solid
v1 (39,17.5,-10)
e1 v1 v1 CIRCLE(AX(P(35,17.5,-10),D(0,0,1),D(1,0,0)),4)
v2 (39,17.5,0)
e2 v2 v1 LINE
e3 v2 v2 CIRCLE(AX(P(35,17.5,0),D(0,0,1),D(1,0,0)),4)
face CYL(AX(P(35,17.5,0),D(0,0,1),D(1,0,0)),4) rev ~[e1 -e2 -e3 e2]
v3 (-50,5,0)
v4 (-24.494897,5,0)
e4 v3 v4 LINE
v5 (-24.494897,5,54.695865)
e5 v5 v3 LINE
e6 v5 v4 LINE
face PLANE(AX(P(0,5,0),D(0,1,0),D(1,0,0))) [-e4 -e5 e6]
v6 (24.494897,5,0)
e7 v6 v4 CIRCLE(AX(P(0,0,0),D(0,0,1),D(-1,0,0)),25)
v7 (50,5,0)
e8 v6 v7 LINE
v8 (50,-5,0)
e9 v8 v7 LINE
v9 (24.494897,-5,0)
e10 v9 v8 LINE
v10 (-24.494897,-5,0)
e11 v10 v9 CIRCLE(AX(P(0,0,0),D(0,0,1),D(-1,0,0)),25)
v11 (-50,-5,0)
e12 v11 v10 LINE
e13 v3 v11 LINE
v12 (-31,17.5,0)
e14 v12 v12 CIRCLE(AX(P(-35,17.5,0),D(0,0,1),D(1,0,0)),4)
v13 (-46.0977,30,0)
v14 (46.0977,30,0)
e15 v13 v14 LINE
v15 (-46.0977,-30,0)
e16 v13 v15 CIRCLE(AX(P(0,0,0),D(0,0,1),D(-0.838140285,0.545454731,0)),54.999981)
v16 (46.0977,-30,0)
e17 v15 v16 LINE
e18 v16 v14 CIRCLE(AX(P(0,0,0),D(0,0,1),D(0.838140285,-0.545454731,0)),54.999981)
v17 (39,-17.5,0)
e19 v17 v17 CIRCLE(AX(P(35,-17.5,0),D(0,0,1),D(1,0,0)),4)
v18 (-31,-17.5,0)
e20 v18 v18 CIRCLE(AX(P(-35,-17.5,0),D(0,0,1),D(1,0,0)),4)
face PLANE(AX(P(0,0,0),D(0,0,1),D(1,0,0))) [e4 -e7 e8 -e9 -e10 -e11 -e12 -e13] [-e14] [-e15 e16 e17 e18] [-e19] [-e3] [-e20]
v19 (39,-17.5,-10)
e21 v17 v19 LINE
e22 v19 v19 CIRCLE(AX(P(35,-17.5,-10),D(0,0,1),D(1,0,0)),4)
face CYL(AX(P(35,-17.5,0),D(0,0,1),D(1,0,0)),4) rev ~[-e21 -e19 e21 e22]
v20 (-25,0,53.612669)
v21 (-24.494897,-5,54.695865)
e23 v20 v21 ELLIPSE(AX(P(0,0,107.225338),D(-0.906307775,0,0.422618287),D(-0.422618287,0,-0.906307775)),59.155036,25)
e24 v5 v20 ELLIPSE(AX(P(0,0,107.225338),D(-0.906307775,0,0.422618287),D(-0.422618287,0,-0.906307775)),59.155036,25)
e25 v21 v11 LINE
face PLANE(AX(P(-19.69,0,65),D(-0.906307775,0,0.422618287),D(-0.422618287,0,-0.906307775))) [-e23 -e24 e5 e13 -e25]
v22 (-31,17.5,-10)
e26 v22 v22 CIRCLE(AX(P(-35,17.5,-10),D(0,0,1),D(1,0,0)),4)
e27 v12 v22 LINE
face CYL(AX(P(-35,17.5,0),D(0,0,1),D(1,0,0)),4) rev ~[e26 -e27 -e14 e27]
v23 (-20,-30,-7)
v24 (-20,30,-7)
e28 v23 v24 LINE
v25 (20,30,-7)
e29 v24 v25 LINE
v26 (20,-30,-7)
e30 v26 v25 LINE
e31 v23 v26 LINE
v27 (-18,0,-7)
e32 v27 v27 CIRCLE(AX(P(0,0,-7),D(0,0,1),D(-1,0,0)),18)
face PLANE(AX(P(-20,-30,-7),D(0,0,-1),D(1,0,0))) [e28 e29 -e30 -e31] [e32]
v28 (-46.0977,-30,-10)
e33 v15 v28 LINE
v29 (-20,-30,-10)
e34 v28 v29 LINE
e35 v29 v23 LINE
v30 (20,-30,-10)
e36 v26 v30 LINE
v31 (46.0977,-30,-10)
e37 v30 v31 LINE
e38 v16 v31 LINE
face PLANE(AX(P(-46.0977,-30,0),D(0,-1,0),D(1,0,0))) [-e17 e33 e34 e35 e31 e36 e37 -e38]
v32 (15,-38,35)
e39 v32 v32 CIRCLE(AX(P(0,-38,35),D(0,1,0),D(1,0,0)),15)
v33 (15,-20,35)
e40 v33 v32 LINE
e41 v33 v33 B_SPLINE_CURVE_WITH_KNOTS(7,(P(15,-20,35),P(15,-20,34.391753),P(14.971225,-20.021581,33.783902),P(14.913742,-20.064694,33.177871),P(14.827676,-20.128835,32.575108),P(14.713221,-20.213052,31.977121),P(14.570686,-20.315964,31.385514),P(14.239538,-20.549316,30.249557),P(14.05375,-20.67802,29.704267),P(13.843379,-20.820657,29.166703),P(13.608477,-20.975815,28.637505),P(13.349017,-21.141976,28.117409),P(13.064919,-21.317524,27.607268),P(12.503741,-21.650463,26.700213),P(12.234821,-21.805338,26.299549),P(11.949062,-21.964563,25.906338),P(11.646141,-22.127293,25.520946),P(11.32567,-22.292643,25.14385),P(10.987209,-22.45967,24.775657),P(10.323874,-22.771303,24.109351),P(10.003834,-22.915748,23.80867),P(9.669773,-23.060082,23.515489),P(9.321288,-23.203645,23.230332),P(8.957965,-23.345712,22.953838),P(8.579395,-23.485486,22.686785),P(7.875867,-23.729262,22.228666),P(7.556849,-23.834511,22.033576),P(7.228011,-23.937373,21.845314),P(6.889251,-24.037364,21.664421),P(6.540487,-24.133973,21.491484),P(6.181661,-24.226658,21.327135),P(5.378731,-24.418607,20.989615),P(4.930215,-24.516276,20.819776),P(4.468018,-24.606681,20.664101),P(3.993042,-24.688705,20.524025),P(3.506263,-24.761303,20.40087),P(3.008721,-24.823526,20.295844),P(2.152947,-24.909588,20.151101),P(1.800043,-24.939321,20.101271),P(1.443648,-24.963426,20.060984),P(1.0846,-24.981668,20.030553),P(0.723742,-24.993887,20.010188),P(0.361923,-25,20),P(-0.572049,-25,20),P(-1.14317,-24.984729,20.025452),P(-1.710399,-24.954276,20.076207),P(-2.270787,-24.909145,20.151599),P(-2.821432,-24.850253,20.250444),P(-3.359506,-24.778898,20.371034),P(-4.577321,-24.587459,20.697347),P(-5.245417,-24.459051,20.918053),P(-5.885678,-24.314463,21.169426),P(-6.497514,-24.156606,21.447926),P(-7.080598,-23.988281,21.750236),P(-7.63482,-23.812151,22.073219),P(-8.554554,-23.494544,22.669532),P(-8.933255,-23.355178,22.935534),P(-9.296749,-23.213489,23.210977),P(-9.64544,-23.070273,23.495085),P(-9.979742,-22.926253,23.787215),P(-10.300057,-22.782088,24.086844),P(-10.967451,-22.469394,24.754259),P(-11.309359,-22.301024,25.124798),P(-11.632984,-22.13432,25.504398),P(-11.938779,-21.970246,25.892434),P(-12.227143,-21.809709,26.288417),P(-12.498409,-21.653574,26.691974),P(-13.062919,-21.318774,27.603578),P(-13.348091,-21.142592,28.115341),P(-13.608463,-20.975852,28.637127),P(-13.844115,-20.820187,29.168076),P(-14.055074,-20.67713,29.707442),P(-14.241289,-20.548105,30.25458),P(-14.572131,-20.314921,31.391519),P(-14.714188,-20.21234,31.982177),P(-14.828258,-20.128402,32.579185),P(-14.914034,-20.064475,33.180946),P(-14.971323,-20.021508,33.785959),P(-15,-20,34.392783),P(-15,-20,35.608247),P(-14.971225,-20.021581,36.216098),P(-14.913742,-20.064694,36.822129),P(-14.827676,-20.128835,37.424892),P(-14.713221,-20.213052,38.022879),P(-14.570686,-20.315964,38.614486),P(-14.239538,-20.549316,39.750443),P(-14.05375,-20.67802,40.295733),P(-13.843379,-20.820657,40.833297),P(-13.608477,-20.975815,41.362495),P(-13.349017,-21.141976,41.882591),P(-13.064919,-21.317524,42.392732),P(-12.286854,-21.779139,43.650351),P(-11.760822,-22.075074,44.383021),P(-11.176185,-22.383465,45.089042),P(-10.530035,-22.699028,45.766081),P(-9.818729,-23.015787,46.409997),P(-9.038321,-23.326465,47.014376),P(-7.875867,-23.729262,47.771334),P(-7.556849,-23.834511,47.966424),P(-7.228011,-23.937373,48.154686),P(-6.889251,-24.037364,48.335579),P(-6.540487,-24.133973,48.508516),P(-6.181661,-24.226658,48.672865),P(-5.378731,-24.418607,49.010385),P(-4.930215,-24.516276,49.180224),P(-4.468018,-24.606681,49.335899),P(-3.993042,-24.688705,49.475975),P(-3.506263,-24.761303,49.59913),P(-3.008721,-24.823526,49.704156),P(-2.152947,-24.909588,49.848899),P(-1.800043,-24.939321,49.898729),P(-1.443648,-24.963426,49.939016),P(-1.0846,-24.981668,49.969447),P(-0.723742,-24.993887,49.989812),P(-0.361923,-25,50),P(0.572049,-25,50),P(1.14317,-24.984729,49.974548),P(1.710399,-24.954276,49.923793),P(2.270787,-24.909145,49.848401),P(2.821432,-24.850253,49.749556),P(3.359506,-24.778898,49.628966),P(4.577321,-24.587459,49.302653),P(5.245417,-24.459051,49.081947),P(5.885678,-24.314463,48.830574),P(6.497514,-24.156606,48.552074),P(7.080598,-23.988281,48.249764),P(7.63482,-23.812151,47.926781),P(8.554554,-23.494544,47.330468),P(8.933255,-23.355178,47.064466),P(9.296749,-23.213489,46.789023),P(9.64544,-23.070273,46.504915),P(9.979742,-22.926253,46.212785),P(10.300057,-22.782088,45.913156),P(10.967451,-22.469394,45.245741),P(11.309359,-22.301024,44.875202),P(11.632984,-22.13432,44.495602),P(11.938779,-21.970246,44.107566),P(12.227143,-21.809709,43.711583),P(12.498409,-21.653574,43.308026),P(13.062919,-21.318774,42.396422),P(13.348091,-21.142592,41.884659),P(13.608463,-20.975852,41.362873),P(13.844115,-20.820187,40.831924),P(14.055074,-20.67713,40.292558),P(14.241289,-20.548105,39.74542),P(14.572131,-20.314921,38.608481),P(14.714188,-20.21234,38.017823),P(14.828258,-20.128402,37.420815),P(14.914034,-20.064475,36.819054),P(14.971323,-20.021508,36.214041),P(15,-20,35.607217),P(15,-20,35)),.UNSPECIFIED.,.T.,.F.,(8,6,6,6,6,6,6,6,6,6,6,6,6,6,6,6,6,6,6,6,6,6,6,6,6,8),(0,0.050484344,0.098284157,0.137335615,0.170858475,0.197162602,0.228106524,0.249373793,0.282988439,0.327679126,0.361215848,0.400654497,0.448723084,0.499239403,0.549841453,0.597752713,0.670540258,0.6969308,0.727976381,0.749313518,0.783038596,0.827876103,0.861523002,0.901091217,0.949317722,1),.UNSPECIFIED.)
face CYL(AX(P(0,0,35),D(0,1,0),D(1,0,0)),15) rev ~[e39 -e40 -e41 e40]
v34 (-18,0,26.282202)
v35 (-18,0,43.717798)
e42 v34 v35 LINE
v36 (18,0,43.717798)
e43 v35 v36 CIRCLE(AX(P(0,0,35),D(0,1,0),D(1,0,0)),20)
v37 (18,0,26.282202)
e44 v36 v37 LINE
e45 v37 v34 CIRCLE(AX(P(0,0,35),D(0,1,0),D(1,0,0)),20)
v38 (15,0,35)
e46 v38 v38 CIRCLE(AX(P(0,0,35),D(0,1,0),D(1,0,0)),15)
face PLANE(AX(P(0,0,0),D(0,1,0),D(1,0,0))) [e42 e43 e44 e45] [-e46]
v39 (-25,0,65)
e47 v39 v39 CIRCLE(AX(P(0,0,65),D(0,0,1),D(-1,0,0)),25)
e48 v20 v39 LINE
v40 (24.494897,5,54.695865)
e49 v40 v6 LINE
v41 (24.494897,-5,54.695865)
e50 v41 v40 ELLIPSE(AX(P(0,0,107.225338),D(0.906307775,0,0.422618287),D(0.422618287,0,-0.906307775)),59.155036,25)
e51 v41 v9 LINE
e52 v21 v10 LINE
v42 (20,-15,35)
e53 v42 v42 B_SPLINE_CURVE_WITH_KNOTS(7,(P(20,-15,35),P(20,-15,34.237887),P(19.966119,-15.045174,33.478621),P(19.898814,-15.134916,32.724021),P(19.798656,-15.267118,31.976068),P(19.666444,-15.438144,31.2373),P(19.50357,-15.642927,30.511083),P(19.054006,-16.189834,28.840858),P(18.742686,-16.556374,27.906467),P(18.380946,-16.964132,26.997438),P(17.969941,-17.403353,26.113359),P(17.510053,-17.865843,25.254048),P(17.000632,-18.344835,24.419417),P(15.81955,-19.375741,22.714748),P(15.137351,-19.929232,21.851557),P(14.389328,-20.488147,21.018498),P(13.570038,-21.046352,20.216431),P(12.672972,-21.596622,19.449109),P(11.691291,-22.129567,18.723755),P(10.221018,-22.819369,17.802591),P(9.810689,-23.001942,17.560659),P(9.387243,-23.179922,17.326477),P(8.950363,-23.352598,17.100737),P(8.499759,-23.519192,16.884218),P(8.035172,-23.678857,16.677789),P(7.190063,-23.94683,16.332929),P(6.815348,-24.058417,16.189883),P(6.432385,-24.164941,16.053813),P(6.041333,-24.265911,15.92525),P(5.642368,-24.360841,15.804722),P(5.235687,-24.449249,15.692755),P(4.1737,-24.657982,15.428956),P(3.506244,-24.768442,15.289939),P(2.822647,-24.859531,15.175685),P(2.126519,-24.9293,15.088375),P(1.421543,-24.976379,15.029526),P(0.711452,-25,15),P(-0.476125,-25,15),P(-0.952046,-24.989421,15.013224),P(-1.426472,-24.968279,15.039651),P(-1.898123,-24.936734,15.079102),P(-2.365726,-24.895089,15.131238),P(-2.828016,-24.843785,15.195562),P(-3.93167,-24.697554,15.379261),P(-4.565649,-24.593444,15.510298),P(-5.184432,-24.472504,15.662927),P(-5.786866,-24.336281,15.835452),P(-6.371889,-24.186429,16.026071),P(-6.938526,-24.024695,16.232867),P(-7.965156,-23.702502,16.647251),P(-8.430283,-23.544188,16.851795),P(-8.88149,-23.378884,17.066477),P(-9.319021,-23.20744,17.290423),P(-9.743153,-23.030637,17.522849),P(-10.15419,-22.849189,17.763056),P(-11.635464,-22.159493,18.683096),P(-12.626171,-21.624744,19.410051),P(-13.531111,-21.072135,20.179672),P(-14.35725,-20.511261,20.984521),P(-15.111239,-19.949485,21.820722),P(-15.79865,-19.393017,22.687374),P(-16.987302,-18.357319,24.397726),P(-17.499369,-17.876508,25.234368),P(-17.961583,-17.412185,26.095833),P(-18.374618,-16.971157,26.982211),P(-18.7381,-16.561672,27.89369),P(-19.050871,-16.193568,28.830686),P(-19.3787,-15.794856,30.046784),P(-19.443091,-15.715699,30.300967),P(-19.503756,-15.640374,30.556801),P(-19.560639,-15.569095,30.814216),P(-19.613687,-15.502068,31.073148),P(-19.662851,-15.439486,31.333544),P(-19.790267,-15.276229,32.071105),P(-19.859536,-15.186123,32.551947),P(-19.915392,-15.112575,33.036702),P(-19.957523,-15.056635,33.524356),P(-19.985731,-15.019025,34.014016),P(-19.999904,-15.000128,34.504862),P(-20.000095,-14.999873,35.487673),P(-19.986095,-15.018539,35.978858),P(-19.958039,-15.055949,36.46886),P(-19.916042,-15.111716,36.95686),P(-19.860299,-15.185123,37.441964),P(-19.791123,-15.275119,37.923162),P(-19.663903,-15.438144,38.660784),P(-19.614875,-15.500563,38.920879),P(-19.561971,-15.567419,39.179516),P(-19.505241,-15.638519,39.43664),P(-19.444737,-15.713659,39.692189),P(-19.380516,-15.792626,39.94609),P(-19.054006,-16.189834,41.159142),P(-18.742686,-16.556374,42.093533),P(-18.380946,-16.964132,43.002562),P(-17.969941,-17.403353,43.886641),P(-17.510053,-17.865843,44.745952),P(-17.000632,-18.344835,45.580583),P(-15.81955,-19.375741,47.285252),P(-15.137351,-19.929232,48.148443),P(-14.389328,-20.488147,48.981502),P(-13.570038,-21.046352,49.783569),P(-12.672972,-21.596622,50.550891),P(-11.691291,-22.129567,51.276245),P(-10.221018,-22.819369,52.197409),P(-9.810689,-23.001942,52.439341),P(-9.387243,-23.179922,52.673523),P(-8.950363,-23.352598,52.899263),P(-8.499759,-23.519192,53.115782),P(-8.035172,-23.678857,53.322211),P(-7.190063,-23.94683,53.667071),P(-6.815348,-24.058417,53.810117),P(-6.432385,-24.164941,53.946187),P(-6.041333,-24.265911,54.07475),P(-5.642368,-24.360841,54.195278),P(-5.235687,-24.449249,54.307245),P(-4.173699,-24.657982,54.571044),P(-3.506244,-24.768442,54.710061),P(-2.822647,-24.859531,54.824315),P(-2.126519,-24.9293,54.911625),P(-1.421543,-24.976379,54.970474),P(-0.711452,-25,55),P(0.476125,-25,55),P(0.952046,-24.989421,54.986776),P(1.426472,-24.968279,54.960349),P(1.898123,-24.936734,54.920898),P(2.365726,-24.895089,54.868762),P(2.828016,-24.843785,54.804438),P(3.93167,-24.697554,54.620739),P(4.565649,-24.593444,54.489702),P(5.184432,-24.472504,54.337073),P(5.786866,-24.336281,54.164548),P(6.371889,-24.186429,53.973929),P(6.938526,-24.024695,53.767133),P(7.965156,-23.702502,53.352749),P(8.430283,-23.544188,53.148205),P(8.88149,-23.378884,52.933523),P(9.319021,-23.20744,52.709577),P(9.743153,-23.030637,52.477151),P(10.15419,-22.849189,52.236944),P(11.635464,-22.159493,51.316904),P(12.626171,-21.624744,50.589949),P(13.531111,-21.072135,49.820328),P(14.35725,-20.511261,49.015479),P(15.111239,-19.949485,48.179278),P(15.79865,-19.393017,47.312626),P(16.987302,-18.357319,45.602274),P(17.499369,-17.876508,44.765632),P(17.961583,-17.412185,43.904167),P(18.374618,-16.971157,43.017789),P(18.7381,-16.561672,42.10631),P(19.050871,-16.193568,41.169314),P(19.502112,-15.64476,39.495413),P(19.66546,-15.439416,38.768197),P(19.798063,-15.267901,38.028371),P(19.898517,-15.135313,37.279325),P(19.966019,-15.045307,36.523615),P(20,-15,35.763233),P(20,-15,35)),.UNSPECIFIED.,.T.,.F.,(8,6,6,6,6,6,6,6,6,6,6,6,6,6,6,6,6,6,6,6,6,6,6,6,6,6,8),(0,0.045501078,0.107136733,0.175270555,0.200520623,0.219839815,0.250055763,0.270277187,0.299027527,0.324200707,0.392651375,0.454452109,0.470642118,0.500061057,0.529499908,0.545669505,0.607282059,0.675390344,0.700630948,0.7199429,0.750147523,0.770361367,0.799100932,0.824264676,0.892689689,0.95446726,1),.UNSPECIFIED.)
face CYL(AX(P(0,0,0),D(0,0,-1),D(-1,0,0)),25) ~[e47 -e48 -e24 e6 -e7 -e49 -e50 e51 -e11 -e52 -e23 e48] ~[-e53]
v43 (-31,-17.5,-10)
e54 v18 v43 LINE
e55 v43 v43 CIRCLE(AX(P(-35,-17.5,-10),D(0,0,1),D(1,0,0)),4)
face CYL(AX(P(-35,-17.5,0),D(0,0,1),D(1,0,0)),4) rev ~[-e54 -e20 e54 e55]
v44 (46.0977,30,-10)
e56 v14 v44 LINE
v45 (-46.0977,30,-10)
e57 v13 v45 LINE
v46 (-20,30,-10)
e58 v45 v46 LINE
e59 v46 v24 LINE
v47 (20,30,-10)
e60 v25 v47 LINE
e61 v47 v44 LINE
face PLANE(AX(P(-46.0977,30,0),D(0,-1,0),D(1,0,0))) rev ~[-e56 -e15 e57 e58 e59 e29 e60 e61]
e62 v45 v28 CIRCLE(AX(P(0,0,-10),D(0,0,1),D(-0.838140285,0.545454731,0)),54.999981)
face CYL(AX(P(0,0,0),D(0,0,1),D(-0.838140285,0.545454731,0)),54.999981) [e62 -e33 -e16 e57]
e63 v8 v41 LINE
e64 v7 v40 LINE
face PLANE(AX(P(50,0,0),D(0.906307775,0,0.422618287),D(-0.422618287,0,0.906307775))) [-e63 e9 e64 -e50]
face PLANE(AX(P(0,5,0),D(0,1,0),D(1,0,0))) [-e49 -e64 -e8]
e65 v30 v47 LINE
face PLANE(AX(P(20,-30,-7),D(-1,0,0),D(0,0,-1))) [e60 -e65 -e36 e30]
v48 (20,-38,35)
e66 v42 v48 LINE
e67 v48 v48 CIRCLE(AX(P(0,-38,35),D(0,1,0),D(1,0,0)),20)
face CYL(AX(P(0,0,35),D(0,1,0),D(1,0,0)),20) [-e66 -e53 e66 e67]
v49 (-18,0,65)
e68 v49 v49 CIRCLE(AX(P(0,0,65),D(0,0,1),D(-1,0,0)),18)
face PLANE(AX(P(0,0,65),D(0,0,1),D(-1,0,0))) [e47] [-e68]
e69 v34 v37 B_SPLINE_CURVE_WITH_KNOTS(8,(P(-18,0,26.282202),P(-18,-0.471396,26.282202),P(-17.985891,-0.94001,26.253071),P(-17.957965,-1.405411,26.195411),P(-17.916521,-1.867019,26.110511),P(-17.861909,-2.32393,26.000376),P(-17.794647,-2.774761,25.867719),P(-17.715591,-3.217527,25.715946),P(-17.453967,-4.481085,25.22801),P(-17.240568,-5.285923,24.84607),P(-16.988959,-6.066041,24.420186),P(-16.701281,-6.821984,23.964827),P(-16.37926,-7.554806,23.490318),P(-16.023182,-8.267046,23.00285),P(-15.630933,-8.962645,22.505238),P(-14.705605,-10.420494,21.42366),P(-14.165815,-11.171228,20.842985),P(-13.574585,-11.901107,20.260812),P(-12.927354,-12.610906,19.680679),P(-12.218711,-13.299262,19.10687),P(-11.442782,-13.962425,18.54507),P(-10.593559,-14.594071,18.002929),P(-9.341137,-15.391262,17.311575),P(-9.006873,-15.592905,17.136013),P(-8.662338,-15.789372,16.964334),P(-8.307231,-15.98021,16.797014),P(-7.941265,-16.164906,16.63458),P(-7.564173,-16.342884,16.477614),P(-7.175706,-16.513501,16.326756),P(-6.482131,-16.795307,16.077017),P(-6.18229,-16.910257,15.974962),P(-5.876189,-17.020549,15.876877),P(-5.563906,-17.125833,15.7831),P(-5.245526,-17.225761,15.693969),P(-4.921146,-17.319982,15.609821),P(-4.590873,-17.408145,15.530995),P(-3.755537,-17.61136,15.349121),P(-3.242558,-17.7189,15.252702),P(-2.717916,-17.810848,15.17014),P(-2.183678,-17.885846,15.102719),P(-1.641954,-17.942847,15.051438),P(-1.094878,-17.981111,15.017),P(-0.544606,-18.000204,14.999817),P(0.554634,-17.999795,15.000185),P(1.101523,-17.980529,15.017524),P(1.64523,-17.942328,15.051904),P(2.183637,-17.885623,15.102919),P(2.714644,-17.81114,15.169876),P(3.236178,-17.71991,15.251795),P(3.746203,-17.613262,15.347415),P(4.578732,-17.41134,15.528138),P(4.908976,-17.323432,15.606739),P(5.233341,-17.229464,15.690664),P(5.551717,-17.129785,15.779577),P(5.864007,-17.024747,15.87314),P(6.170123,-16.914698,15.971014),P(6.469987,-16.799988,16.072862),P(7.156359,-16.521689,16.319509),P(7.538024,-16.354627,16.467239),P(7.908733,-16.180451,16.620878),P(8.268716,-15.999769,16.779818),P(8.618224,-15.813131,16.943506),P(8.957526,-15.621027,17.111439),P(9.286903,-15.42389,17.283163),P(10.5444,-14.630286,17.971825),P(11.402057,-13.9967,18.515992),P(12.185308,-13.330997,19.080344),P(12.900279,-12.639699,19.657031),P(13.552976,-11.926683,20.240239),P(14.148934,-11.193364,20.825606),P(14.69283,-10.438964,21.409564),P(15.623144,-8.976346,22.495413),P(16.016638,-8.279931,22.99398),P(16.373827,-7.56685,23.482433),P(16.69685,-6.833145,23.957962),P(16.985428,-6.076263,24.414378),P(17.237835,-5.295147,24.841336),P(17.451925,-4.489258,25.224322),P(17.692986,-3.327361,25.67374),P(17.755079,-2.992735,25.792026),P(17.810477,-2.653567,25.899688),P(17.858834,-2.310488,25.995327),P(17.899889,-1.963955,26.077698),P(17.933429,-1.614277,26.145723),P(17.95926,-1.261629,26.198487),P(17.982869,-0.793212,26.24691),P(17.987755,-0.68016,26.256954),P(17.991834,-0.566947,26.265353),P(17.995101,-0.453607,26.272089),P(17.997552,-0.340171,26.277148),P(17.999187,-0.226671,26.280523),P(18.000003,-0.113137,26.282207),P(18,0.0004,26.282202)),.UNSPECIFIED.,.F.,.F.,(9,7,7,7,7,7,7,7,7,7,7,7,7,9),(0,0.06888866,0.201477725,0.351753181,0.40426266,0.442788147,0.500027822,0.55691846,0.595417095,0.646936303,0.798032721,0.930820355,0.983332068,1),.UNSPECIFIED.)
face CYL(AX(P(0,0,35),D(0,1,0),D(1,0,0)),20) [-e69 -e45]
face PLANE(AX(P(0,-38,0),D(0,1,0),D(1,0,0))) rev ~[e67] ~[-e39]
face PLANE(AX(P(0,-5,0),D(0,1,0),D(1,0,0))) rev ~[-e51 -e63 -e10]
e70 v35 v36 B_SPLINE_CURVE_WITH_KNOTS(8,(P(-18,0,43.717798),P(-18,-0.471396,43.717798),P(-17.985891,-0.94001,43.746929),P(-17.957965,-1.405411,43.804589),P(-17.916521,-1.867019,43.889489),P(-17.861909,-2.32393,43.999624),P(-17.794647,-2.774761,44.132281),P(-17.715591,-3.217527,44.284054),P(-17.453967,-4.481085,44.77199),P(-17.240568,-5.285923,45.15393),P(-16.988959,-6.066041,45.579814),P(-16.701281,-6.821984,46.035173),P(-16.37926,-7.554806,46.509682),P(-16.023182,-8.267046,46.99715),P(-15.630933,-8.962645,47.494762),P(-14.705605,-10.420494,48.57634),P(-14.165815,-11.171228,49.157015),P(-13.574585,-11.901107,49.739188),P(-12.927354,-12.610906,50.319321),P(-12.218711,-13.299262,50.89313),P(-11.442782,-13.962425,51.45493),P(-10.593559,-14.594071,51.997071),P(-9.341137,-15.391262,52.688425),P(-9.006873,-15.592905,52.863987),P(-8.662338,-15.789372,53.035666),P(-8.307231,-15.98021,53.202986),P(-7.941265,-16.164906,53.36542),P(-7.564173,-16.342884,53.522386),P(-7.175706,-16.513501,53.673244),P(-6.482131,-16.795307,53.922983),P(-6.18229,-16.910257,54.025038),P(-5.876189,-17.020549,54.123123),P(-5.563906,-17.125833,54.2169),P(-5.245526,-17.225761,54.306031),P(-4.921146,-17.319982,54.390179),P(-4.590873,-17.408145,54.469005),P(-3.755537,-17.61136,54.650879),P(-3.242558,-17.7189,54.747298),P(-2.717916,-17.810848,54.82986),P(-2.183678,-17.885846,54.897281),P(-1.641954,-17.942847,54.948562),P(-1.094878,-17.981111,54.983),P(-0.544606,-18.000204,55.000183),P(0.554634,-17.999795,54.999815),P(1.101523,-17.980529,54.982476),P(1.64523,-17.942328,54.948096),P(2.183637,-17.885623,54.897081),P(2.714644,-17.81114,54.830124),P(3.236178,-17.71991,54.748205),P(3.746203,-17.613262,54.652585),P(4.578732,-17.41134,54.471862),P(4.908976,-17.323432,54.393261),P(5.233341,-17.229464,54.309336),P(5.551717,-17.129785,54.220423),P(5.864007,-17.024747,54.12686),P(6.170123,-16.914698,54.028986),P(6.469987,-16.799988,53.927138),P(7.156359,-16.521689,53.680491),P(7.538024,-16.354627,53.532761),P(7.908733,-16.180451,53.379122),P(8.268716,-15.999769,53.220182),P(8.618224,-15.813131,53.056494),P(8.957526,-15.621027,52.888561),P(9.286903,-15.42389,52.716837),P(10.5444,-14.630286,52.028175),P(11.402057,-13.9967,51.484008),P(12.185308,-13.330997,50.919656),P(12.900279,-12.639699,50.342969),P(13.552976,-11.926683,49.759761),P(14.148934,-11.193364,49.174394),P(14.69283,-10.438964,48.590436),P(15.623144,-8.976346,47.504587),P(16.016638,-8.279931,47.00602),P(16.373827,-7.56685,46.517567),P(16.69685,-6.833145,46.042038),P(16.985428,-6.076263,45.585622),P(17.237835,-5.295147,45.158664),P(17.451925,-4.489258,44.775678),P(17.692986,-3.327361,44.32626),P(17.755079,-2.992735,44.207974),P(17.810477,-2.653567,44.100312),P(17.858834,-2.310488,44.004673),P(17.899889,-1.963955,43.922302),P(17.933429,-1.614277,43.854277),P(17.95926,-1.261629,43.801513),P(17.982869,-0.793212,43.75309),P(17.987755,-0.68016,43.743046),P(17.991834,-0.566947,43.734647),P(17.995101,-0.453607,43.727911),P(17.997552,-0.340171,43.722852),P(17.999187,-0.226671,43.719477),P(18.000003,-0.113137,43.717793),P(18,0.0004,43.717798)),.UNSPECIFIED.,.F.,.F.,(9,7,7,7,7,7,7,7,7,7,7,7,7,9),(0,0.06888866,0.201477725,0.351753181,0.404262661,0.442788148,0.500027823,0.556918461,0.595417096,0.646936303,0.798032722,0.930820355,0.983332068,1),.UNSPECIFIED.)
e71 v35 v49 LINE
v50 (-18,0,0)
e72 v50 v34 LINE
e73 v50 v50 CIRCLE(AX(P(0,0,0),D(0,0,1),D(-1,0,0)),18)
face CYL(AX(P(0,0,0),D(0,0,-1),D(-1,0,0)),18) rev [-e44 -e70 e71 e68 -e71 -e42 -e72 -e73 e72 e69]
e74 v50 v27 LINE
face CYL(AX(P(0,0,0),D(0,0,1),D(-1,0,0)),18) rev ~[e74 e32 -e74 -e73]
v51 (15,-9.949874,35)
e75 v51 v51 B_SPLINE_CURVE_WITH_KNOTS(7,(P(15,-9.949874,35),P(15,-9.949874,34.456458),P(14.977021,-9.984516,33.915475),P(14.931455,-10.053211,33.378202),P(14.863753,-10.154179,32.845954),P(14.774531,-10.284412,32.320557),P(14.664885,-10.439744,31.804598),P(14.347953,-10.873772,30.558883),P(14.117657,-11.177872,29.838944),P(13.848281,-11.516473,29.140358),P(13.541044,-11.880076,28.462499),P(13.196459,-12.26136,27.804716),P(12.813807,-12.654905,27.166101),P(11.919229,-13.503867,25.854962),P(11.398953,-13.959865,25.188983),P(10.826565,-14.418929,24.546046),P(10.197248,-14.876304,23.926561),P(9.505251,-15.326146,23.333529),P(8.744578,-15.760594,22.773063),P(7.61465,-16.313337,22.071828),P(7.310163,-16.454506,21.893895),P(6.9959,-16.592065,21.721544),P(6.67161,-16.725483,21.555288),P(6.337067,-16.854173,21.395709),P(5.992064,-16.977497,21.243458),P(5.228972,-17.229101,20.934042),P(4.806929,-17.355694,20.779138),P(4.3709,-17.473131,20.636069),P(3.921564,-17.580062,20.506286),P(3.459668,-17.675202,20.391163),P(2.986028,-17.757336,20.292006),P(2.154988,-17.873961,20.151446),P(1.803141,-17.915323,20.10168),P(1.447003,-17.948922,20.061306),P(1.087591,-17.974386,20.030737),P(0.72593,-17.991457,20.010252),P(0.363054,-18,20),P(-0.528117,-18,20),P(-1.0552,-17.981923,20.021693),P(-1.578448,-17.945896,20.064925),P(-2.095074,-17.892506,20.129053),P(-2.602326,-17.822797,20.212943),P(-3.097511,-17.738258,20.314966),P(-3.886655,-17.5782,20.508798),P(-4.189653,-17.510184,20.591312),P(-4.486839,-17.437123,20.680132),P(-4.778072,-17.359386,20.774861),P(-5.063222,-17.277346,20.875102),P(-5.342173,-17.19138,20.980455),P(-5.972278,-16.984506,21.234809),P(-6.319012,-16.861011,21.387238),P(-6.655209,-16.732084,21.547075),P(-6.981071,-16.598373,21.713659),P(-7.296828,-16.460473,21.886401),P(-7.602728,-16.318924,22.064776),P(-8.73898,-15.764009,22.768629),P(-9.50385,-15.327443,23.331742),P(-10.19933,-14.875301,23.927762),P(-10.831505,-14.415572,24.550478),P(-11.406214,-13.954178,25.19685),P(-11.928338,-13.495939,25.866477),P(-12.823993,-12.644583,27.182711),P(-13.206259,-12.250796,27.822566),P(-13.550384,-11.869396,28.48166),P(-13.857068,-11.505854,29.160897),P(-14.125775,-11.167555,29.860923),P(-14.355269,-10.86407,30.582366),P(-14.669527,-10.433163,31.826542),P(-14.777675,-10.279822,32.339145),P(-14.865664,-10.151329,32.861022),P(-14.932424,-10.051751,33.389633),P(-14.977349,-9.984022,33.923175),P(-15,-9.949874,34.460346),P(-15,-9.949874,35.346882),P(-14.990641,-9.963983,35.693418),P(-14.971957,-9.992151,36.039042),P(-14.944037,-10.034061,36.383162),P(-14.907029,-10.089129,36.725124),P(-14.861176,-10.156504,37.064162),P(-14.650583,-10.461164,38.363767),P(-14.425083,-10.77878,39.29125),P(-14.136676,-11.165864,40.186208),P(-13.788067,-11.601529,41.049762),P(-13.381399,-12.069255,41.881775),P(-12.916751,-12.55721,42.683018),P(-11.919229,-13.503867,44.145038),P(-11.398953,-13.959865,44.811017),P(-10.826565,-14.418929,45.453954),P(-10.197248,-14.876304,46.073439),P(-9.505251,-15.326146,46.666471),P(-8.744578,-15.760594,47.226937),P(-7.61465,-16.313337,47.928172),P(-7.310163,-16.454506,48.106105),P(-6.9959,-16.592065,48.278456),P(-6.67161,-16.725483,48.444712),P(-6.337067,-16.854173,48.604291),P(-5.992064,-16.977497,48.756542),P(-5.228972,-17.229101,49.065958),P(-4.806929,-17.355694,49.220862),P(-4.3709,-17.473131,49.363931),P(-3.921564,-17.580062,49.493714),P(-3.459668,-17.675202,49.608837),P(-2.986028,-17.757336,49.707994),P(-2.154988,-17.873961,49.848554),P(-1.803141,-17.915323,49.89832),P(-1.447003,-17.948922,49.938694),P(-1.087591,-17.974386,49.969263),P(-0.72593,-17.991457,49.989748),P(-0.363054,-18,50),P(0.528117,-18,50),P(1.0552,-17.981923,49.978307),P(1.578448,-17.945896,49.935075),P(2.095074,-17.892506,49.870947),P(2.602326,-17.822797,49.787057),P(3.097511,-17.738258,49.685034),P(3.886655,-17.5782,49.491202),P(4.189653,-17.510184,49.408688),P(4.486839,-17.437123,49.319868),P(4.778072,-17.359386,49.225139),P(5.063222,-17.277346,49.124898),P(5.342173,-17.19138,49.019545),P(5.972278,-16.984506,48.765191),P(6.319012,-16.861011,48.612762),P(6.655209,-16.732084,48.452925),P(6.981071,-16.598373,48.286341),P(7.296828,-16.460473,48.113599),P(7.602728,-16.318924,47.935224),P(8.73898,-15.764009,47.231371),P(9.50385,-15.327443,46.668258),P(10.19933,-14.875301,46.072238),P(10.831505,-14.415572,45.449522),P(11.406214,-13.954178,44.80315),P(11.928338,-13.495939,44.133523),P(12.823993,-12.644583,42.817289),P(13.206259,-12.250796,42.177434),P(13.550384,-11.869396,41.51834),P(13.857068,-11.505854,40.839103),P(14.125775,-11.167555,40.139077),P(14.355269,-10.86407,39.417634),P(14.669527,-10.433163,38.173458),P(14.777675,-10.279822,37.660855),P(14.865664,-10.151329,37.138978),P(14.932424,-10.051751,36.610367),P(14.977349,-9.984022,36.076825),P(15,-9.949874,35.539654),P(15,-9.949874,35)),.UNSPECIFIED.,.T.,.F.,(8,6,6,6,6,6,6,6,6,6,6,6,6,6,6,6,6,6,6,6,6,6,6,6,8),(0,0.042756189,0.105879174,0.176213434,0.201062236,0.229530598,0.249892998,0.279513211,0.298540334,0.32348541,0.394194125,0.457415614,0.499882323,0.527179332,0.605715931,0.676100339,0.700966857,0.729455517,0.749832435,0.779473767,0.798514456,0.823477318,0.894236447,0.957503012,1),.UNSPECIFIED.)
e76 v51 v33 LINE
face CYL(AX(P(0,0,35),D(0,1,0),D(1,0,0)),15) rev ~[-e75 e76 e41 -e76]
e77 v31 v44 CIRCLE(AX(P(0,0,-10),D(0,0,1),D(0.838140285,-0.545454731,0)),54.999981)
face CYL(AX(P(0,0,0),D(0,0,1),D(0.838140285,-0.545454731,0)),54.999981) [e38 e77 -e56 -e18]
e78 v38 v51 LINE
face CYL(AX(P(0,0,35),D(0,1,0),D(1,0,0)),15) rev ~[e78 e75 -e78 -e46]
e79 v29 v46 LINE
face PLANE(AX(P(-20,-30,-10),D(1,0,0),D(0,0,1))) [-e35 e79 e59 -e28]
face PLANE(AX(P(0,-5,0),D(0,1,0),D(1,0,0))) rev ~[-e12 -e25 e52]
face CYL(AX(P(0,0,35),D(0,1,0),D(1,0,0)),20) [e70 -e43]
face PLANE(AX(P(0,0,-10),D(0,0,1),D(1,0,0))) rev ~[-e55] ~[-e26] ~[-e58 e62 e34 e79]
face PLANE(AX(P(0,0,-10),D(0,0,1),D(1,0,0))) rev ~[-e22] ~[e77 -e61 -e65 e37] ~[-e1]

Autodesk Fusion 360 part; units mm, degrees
sketch "草图1" plane through (0, 0, 0) normal (0, 0, 1) x (1, 0, 0)
  line L0 (-46.0977, 30) -> (46.0977, 30)
  line L1 (-46.0977, -30) -> (46.0977, -30)
  line L2 (-130, 0) -> (170, 0) construction
  line L3 (0, 120) -> (0, -120) construction
  circle A0 centre (-35, 17.5) radius 4
  circle A1 centre (35, 17.5) radius 4
  circle A2 centre (35, -17.5) radius 4
  circle A3 centre (-35, -17.5) radius 4
  arc A4 (46.0977, -30) -> (46.0977, 30) centre (0, 0) ccw
  arc A5 (-46.0977, 30) -> (-46.0977, -30) centre (0, 0) ccw
  dimension "d1" = 110
  dimension "d2" = 60
  dimension "d3" = 8
  dimension "d4" = 35
  dimension "d5" = 70
extrude "拉伸1" add sketch "草图1" against normal blind 10 makes body 1
sketch "草图2" plane through (0, -30, 0) normal (0, -1, 0) x (1, 0, 0)
  line L0 (46.0977, 0) -> (-46.0977, 0)
  line L1 (-46.0977, 0) -> (-46.0977, -10)
  line L2 (-46.0977, -10) -> (46.0977, -10)
  line L3 (46.0977, -10) -> (46.0977, 0)
  line L4 (-46.0977, 0) -> (46.0977, 0)
  line L5 (46.0977, 0) -> (46.0977, -10)
  line L6 (46.0977, -10) -> (-46.0977, -10)
  line L7 (-46.0977, -10) -> (-46.0977, 0)
  line L8 (-20, -7) -> (20, -7)
  line L9 (20, -7) -> (20, -10)
  line L10 (20, -10) -> (-20, -10)
  line L11 (-20, -10) -> (-20, -7)
  line L12 (0, 5) -> (0, -26.915) construction
  dimension "d8" = 40
  dimension "d9" = 3
extrude "拉伸2" cut sketch "草图2" against normal blind 80 contours L2 L6 L8 L9 L10 L11 bodies 1
sketch "草图3" plane through (0, 0, 0) normal (0, 0, 1) x (-1, 0, 0)
  circle A0 centre (35, 17.5) radius 4
  circle A1 centre (-35, -17.5) radius 4
  circle A2 centre (35, -17.5) radius 4
  circle A3 centre (-35, 17.5) radius 4
  arc A4 (46.0977, -30) -> (46.0977, 30) centre (0, 0) ccw
  line L0 (46.0977, 30) -> (-46.0977, 30)
  arc A5 (-46.0977, 30) -> (-46.0977, -30) centre (0, 0) ccw
  line L1 (-46.0977, -30) -> (46.0977, -30)
  circle A6 centre (0, 0) radius 25
  circle A7 centre (0, 0) radius 18
  dimension "d12" = 50
  dimension "d13" = 36
extrude "拉伸3" cut sketch "草图3" against normal blind 45 contours A7 bodies 1
extrude "拉伸4" add sketch "草图3" along normal blind 65 contours A6 bodies 1
sketch "草图4" plane through (0, 0, 0) normal (0, 1, 0) x (1, 0, 0)
  circle A0 centre (0, -35) radius 20
  circle A1 centre (0, -35) radius 15
  line L0 (-25, -65) -> (25, -65)
  dimension "d18" = 40
  dimension "d19" = 30
  dimension "d20" = 30
extrude "拉伸5" add sketch "草图4" against normal blind 38 bodies 1
extrude "拉伸6" cut sketch "草图4" against normal blind 60 contours A1 bodies 1
sketch "草图5" plane through (0, 0, 0) normal (0, 1, 0) x (1, 0, 0)
  line L0 (50, 0) -> (19.69, -65)
  line L1 (-19.69, -65) -> (-50, 0)
  line L2 (-19.69, -65) -> (-19.69, 0)
  line L3 (19.69, -65) -> (19.69, 0)
  line L4 (-60, 0) -> (-19.69, 0) construction
  line L5 (19.69, 0) -> (60, 0) construction
  line L6 (-50, 0) -> (-19.69, 0)
  line L7 (19.69, 0) -> (50, 0)
  dimension "d25" = 100
  dimension "d26" = 65
extrude "拉伸7" add sketch "草图5" along normal mid plane 10 separate body makes body 2 at (-29.7933, 5, 21.6667) makes body 3 at (29.7933, 5, 21.6667)
combine "合并1" operation add target body 1 tool bodies 3 2
